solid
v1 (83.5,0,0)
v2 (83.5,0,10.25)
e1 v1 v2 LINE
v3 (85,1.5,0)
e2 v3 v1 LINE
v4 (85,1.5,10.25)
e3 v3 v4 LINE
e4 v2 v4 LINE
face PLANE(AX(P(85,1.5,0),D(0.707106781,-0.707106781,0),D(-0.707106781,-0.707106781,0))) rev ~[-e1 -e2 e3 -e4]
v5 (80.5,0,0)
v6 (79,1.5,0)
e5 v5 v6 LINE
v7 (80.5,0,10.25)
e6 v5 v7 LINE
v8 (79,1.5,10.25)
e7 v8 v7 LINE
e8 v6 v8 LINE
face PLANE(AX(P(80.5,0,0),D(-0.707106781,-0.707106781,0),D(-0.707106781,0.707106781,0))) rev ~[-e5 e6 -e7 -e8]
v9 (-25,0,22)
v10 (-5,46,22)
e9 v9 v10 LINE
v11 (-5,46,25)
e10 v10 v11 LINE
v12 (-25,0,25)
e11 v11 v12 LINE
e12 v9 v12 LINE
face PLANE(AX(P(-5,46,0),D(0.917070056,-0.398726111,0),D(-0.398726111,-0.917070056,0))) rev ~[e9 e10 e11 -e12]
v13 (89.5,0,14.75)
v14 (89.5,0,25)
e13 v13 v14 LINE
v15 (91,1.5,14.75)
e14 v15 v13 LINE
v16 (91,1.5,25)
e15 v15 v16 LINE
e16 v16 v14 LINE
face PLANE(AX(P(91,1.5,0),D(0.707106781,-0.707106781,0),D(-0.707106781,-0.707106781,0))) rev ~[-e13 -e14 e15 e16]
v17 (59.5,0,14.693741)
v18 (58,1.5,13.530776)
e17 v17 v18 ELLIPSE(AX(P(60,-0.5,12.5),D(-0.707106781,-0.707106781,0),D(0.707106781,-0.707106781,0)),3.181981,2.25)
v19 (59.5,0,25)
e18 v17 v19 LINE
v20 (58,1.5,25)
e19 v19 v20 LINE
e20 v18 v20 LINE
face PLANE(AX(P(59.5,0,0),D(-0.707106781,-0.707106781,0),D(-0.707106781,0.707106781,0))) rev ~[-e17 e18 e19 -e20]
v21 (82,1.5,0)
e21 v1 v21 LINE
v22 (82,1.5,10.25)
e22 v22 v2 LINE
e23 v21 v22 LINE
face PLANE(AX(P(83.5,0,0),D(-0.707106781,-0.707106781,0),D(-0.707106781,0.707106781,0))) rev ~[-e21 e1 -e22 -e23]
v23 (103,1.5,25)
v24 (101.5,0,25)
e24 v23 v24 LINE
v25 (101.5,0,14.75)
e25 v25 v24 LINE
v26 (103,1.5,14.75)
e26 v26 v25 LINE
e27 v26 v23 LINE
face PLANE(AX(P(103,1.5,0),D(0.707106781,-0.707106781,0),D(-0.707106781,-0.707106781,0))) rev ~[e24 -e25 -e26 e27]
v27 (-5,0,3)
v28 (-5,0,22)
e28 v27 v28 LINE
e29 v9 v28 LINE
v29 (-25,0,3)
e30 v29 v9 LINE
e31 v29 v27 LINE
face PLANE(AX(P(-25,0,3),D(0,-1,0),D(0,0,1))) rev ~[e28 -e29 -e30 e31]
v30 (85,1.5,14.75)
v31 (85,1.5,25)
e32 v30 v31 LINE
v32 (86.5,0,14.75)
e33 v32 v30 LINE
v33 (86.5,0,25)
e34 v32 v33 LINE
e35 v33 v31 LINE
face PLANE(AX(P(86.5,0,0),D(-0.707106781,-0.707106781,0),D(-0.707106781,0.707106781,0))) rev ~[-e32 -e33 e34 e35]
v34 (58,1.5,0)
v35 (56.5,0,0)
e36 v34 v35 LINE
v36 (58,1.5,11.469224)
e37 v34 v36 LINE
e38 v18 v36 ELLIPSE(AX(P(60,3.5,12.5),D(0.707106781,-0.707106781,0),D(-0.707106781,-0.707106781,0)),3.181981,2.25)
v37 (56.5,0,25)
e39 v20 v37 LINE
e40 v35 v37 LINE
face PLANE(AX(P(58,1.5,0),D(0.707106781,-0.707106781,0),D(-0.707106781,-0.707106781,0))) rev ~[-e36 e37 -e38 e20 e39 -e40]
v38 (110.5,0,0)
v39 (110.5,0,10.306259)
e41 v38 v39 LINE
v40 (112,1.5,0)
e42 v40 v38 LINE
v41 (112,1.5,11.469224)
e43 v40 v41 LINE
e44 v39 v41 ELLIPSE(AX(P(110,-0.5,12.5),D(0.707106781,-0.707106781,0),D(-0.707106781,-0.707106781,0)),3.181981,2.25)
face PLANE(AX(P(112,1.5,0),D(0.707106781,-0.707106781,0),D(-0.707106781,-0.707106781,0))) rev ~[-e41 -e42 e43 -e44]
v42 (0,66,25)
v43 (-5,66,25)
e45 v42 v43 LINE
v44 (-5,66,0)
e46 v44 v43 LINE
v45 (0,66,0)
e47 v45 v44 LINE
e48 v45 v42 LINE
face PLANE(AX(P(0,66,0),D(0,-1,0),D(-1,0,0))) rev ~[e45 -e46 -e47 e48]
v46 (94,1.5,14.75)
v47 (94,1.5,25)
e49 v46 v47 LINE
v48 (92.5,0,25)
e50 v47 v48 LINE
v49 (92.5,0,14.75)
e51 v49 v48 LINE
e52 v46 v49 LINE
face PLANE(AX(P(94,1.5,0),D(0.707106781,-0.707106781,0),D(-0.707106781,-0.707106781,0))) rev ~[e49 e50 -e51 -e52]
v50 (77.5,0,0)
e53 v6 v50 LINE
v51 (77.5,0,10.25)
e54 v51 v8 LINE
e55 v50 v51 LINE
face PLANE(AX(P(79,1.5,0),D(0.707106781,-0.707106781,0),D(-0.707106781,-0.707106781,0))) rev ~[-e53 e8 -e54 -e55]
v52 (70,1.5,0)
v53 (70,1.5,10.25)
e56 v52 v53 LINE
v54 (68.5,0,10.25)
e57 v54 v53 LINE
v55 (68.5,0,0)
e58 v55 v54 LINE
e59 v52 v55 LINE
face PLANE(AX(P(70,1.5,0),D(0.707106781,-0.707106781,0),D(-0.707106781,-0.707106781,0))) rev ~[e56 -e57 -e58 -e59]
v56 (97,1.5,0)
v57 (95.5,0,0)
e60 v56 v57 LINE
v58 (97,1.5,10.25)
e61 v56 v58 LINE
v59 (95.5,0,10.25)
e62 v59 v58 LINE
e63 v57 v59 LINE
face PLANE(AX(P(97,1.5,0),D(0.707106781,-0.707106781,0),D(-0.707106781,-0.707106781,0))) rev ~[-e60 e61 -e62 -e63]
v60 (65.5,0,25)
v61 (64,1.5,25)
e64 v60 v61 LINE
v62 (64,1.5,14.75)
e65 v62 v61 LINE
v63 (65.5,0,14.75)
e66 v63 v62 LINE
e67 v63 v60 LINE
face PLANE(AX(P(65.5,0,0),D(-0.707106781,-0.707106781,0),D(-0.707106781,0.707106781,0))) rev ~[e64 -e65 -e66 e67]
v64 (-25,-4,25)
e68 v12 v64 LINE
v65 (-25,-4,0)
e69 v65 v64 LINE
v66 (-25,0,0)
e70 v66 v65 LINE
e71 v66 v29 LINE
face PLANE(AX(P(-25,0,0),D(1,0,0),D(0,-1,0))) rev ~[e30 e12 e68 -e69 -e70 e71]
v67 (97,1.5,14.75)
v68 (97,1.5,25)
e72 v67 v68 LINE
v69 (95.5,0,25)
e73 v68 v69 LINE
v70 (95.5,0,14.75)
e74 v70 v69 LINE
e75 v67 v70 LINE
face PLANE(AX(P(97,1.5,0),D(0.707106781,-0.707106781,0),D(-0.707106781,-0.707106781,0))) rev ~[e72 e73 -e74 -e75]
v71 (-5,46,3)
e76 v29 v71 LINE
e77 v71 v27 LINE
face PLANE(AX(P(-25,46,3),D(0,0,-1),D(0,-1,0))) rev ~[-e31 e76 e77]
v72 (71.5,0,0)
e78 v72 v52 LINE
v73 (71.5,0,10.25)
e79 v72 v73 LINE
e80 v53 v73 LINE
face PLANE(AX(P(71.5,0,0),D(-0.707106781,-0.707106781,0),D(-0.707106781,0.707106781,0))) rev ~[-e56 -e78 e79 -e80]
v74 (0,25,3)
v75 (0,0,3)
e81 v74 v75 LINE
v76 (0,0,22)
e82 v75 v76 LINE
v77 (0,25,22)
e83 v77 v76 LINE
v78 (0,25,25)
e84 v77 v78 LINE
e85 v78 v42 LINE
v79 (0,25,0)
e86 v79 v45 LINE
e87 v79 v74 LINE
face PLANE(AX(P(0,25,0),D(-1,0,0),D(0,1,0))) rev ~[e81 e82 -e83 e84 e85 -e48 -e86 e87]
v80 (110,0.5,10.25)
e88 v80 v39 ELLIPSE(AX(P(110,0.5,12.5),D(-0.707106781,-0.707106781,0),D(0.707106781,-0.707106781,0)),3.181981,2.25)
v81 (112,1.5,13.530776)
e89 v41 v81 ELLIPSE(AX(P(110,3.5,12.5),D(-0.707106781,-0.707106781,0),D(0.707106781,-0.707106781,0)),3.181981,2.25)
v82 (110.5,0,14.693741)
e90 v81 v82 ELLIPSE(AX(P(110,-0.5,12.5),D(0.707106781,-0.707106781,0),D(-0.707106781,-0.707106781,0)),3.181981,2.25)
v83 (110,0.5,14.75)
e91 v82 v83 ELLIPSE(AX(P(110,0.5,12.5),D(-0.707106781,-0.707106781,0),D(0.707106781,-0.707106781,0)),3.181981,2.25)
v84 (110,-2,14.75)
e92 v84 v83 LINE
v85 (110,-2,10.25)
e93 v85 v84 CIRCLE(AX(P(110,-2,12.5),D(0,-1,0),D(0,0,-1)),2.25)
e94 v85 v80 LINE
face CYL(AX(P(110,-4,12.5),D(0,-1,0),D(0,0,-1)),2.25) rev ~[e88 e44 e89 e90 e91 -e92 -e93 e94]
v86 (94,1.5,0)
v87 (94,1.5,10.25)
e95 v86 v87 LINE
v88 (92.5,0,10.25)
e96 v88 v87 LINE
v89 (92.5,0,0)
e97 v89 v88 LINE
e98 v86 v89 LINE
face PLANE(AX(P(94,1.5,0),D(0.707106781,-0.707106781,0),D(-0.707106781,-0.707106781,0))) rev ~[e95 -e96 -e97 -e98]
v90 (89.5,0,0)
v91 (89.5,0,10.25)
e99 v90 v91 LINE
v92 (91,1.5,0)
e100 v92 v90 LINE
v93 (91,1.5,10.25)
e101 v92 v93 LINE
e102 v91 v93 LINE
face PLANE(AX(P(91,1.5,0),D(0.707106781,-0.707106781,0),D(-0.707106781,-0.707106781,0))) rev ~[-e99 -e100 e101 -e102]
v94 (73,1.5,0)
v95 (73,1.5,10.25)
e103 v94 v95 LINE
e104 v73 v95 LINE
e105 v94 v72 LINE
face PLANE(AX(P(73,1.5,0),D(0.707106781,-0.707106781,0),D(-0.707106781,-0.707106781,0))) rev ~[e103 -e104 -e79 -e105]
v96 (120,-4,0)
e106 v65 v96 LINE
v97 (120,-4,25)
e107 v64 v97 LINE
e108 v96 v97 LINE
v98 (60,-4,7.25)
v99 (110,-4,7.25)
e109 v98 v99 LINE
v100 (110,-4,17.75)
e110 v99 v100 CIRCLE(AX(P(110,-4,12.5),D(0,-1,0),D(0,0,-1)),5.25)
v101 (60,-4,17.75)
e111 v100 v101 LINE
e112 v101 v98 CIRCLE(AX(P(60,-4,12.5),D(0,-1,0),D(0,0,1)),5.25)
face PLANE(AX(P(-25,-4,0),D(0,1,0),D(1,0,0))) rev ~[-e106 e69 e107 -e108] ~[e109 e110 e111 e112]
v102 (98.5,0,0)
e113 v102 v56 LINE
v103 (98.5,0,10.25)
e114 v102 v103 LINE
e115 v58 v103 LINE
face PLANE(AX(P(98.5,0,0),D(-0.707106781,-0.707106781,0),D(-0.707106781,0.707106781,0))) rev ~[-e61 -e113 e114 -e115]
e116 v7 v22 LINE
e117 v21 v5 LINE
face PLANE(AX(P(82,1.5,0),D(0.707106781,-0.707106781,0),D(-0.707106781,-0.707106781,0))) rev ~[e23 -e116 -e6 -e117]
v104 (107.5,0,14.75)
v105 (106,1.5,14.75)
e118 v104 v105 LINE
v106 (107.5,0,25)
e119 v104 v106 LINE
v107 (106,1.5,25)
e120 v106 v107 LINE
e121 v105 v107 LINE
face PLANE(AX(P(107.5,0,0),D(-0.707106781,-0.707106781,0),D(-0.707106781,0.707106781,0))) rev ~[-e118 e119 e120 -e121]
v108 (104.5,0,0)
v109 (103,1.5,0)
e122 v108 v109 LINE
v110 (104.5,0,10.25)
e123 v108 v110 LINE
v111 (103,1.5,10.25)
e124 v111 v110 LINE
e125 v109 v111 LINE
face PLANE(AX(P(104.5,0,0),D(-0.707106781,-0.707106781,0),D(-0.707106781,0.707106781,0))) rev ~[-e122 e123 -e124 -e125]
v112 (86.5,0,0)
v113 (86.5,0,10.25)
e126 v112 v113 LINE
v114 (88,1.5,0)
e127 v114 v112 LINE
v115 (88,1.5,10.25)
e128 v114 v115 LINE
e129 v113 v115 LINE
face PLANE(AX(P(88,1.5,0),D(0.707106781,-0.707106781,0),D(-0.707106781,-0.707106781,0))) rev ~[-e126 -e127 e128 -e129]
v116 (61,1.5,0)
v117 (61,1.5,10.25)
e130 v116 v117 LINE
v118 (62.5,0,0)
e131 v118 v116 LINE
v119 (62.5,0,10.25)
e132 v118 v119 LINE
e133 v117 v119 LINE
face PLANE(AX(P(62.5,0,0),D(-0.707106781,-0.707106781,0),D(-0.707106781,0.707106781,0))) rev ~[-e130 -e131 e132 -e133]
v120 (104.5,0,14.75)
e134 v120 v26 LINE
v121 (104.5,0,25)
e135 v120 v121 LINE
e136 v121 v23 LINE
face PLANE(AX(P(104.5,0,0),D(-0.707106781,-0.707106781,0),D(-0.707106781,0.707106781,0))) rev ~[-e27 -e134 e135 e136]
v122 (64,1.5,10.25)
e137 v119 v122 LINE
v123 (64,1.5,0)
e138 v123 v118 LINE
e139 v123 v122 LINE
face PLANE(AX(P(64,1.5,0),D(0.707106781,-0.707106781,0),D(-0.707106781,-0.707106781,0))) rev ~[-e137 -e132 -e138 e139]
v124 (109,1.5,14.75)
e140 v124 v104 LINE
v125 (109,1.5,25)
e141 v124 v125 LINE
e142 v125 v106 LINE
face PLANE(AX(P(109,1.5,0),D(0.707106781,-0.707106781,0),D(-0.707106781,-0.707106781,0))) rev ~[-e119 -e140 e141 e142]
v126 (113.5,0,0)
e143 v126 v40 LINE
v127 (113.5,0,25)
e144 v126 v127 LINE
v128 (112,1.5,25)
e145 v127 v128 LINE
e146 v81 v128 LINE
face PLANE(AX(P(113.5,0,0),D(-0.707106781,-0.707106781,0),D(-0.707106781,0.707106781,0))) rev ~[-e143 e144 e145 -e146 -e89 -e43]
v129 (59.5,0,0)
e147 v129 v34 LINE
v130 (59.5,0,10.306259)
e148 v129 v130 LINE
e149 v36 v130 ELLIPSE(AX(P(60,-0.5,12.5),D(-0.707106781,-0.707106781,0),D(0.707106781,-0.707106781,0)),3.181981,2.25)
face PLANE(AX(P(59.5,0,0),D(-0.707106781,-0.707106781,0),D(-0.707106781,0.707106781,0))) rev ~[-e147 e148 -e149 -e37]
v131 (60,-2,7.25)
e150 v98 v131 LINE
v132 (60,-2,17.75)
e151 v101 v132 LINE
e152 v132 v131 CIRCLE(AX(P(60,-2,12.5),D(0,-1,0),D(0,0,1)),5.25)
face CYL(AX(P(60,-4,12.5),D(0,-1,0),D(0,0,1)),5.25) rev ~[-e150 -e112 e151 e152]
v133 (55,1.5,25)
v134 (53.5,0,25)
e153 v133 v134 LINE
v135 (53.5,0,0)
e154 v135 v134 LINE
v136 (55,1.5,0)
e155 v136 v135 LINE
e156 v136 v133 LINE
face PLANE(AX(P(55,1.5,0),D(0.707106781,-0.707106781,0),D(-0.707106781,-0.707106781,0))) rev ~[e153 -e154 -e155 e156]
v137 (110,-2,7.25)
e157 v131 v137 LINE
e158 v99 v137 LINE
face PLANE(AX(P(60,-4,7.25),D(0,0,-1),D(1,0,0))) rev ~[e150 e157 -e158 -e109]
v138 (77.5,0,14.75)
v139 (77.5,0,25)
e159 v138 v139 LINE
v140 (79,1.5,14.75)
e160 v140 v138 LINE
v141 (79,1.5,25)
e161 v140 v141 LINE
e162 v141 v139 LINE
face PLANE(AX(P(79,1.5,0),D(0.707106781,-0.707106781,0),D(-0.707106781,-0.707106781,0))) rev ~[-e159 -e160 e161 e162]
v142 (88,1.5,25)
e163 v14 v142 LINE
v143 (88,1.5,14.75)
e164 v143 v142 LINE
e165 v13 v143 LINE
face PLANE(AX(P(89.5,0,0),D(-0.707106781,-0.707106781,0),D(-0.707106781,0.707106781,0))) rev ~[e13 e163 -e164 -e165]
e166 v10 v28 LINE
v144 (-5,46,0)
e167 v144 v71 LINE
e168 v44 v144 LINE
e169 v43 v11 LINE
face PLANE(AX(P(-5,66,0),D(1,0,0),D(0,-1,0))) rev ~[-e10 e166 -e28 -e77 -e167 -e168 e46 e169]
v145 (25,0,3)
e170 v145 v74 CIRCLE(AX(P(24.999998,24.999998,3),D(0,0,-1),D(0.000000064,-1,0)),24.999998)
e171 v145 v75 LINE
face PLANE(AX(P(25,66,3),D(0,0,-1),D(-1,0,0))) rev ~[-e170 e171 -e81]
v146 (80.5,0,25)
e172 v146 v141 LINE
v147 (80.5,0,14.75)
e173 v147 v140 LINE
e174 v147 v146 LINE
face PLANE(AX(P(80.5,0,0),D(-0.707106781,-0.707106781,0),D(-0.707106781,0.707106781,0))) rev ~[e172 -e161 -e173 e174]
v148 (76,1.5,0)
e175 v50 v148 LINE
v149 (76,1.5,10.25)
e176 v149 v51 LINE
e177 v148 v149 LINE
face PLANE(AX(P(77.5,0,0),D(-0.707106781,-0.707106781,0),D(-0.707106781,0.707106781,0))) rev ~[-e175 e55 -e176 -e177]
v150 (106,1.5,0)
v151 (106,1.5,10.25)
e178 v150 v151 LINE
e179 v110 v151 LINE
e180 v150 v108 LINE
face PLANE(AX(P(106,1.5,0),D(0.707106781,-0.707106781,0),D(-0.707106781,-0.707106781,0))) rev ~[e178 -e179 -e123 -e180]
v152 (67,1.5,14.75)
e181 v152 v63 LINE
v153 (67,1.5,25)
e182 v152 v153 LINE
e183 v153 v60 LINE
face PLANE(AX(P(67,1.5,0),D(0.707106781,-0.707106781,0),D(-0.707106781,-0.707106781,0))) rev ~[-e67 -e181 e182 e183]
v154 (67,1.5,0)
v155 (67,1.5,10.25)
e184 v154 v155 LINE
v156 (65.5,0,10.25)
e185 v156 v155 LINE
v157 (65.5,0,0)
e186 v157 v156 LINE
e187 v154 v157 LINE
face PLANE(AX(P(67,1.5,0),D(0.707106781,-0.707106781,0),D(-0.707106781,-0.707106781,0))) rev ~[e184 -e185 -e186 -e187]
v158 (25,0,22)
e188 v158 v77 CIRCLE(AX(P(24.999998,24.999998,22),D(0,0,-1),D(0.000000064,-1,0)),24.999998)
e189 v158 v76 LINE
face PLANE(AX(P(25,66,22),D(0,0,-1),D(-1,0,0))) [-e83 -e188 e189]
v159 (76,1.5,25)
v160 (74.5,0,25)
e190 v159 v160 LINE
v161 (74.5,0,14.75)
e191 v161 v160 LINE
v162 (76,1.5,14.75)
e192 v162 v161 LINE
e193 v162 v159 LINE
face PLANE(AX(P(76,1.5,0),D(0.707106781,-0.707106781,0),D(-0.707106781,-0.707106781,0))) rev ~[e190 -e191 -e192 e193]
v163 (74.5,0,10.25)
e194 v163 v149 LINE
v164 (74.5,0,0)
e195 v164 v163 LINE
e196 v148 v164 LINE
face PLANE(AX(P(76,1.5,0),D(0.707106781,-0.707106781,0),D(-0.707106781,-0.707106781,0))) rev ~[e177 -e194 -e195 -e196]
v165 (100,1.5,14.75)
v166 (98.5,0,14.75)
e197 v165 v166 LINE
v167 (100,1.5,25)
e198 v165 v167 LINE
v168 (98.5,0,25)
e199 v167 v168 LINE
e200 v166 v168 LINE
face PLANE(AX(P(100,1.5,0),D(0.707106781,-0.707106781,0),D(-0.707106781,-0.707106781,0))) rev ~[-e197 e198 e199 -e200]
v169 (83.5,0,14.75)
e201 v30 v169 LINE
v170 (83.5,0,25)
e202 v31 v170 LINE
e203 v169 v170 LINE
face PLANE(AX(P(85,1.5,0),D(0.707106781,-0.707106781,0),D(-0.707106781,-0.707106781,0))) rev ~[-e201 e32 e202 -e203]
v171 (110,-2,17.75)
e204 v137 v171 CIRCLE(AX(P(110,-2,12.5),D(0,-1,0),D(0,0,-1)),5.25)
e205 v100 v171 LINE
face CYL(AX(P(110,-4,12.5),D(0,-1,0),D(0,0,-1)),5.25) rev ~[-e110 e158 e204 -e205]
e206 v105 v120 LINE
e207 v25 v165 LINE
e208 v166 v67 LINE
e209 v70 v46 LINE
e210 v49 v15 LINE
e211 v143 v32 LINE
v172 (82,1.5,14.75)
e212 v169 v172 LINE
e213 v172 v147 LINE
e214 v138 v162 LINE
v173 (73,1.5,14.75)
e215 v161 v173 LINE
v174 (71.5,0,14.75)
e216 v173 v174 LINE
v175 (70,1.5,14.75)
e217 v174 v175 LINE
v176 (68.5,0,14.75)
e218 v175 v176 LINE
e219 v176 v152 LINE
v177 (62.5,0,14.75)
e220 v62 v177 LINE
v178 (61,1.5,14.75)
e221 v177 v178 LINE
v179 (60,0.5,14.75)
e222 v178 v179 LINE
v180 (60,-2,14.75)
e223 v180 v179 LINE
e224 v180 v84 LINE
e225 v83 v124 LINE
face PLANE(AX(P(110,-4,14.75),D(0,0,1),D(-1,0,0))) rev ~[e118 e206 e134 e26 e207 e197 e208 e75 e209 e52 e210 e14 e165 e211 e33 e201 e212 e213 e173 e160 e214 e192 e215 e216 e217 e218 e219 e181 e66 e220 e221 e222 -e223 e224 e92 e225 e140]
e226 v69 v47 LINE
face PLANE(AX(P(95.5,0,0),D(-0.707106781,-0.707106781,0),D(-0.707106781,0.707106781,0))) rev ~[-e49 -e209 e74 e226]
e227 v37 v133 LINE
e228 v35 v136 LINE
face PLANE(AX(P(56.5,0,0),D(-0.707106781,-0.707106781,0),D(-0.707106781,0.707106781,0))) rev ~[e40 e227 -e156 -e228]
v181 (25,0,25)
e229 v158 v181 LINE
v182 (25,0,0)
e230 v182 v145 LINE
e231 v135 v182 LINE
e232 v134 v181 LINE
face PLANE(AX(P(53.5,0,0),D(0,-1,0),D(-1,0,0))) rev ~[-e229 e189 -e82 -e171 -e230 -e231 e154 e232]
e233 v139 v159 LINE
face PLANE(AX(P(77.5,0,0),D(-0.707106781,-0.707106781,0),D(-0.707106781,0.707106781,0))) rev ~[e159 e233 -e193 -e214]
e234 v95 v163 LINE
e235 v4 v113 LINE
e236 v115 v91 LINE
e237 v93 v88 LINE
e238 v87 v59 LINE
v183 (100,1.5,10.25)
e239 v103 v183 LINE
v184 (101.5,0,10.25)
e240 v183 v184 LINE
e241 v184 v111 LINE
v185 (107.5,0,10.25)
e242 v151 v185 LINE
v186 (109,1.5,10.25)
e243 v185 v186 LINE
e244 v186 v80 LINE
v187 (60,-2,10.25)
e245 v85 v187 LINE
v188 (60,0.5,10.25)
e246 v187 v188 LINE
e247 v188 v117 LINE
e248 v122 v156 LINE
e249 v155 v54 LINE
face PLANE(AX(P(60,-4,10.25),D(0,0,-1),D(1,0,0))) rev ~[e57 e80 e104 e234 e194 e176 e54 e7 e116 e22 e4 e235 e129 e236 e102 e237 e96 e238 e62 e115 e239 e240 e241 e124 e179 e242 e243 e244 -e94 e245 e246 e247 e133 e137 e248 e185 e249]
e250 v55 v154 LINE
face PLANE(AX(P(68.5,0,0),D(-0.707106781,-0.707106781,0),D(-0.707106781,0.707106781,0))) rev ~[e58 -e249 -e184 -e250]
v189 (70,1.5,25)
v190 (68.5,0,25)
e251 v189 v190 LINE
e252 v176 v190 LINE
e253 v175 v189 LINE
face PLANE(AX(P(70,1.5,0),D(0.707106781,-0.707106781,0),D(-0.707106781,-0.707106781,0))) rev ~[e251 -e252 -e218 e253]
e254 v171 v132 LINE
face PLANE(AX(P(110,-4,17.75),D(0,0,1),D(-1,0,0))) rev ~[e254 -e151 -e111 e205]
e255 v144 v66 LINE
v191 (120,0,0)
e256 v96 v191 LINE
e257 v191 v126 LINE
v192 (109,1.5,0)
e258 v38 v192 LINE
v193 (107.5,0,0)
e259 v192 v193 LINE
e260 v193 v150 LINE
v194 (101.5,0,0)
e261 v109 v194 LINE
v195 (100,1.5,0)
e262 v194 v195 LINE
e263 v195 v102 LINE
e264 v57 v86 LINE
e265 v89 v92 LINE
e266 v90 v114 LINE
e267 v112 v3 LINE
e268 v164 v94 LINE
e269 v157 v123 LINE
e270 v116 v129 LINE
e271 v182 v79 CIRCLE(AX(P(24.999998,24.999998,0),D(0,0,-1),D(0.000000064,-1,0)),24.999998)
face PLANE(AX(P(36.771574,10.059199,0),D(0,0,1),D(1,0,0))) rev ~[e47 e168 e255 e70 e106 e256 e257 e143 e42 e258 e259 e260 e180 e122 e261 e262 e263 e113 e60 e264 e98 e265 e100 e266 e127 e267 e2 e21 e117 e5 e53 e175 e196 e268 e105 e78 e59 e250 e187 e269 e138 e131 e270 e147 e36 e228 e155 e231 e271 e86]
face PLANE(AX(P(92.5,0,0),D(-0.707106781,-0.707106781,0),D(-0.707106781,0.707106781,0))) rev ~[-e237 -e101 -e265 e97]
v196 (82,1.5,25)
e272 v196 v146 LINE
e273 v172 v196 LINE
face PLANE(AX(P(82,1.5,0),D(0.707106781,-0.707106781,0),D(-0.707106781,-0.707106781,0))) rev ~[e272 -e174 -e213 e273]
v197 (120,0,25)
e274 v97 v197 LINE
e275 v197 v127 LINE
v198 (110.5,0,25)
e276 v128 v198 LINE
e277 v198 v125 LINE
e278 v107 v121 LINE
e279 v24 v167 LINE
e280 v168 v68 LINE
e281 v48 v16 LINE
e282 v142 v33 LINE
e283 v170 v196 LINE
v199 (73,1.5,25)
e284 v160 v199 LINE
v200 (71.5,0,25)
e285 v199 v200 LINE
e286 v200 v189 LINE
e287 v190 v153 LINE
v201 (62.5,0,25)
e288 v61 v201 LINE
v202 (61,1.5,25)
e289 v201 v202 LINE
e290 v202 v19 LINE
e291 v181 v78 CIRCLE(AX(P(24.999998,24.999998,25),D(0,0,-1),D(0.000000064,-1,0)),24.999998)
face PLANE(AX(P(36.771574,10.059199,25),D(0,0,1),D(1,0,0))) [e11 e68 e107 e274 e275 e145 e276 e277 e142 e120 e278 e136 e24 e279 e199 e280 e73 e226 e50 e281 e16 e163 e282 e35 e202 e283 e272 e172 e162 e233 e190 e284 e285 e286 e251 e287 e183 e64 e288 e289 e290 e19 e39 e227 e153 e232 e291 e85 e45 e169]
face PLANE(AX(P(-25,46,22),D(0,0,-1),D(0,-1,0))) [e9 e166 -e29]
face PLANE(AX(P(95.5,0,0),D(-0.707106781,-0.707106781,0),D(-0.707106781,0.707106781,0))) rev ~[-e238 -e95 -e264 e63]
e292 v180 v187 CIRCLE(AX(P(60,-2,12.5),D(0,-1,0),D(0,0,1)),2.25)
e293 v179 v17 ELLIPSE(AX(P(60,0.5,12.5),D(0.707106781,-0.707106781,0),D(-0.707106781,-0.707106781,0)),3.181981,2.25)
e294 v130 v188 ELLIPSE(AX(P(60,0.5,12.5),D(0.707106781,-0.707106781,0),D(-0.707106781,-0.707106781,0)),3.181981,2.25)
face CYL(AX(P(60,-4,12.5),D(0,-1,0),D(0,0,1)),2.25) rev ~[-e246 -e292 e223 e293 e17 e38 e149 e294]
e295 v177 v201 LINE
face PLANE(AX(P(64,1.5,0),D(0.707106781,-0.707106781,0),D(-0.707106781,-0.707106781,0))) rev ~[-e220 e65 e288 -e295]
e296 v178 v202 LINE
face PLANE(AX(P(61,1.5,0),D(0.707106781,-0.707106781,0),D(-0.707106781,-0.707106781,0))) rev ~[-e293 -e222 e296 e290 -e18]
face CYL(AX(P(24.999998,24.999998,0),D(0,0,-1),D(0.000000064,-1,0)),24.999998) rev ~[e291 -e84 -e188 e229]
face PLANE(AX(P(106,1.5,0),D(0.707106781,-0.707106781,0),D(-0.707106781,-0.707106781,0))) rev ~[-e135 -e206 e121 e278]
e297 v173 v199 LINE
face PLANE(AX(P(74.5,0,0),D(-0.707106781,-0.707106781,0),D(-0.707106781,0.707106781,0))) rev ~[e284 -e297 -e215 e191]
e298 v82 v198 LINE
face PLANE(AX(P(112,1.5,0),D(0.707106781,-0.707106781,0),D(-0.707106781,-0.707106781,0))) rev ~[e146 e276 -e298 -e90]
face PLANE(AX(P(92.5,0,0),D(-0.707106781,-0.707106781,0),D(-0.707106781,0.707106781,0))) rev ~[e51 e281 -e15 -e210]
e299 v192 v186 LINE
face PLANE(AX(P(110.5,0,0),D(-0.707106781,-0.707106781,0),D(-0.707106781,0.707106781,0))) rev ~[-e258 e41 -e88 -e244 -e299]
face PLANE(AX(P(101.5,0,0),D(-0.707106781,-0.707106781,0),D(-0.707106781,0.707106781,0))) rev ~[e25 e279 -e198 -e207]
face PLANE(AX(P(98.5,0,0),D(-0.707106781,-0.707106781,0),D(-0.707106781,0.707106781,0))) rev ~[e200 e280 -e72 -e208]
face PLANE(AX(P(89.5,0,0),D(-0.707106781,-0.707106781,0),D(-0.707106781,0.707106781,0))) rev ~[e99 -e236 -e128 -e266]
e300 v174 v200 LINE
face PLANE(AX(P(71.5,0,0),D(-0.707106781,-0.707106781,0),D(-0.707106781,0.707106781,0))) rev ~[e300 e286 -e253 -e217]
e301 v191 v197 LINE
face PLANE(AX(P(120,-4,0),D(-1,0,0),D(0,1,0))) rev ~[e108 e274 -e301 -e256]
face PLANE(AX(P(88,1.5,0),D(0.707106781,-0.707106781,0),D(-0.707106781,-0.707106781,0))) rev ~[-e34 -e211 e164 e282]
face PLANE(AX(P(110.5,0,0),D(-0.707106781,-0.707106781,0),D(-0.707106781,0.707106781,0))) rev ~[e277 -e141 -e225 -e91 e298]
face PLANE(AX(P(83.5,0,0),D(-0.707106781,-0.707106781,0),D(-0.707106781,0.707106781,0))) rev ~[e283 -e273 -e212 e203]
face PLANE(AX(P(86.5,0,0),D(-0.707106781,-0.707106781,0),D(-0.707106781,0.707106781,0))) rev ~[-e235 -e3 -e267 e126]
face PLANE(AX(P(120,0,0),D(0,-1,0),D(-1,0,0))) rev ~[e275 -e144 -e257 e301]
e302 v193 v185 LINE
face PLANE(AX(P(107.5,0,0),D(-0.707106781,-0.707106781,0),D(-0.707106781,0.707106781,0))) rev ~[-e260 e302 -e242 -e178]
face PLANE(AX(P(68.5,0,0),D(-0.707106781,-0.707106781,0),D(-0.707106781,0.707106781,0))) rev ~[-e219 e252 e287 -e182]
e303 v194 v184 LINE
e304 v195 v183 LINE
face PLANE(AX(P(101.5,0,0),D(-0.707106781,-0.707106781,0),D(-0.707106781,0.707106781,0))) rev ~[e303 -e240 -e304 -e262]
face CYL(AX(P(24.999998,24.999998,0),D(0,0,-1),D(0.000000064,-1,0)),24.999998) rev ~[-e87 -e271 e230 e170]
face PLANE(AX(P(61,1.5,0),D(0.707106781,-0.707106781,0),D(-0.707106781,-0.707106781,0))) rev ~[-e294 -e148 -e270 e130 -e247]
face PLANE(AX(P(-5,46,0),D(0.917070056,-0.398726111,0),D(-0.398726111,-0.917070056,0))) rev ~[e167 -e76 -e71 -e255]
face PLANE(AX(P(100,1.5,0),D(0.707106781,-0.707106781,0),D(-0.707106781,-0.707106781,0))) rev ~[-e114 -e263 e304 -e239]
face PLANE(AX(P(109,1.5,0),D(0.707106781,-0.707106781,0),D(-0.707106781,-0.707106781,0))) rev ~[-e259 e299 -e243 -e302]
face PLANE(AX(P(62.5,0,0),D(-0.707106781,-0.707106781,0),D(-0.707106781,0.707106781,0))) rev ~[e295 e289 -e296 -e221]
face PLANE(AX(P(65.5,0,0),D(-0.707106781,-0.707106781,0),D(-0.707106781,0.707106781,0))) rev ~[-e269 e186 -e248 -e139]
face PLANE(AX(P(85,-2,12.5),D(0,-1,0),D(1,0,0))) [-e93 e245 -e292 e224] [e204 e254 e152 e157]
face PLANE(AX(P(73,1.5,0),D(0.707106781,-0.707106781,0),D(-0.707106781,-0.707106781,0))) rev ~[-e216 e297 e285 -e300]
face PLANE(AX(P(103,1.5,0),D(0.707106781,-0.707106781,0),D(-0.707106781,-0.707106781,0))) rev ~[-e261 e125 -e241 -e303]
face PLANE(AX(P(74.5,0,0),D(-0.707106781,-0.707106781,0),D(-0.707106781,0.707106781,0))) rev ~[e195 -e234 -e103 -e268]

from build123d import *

# Parameters (mm, degrees)
F1_DEPTH = 25
F3_DEPTH = 70.001
F5_DEPTH = 2
F6_W     = 46
F6_H     = 19
F7_DEPTH = 20
F8_W     = 25
F8_H     = 19
F9_DEPTH = 66


with BuildPart() as f1:
    # F0 (on Top) → F1 (new body)
    with BuildSketch(Plane.XY):
        with BuildLine():
            Line((53.5, 0), (25, 0))
            ThreePointArc((25, 0), (7.32233, 7.32233), (0, 25))
            Line((0, 25), (0, 66))
            Line((0, 66), (-5, 66))
            Line((-5, 66), (-5, 46))
            Line((-5, 46), (-25, 0))
            Line((-25, 0), (-25, -4))
            Line((-25, -4), (120, -4))
            Line((120, -4), (120, 0))
            Line((120, 0), (113.5, 0))
            Line((113.5, 0), (112, 1.5))
            Line((112, 1.5), (110.5, 0))
            Line((110.5, 0), (109, 1.5))
            Line((109, 1.5), (107.5, 0))
            Line((107.5, 0), (106, 1.5))
            Line((106, 1.5), (104.5, 0))
            Line((104.5, 0), (103, 1.5))
            Line((103, 1.5), (101.5, 0))
            Line((101.5, 0), (100, 1.5))
            Line((100, 1.5), (98.5, 0))
            Line((98.5, 0), (97, 1.5))
            Line((97, 1.5), (95.5, 0))
            Line((95.5, 0), (94, 1.5))
            Line((94, 1.5), (92.5, 0))
            Line((92.5, 0), (91, 1.5))
            Line((91, 1.5), (89.5, 0))
            Line((89.5, 0), (88, 1.5))
            Line((88, 1.5), (86.5, 0))
            Line((86.5, 0), (85, 1.5))
            Line((85, 1.5), (83.5, 0))
            Line((83.5, 0), (82, 1.5))
            Line((82, 1.5), (80.5, 0))
            Line((80.5, 0), (79, 1.5))
            Line((79, 1.5), (77.5, 0))
            Line((77.5, 0), (76, 1.5))
            Line((76, 1.5), (74.5, 0))
            Line((74.5, 0), (73, 1.5))
            Line((73, 1.5), (71.5, 0))
            Line((71.5, 0), (70, 1.5))
            Line((70, 1.5), (68.5, 0))
            Line((68.5, 0), (67, 1.5))
            Line((67, 1.5), (65.5, 0))
            Line((65.5, 0), (64, 1.5))
            Line((64, 1.5), (62.5, 0))
            Line((62.5, 0), (61, 1.5))
            Line((61, 1.5), (59.5, 0))
            Line((59.5, 0), (58, 1.5))
            Line((58, 1.5), (56.5, 0))
            Line((56.5, 0), (55, 1.5))
            Line((55, 1.5), (53.5, 0))
        make_face()
    extrude(amount=F1_DEPTH)

    # F2 (on face) → F3 (cut, through all)
    with BuildSketch(Plane.XZ.offset(4)):
        with BuildLine():
            Line((60, 10.25), (110, 10.25))
            ThreePointArc((110, 10.25), (112.25, 12.5), (110, 14.75))
            Line((110, 14.75), (60, 14.75))
            ThreePointArc((60, 14.75), (57.75, 12.5), (60, 10.25))
        make_face()
    extrude(amount=-F3_DEPTH, mode=Mode.SUBTRACT)

    # F4 (on face) → F5 (cut)
    with BuildSketch(Plane.XZ.offset(4)):
        with BuildLine():
            Line((110, 17.75), (60, 17.75))
            ThreePointArc((60, 17.75), (54.75, 12.5), (60, 7.25))
            Line((60, 7.25), (110, 7.25))
            ThreePointArc((110, 7.25), (115.25, 12.5), (110, 17.75))
        make_face()
    extrude(amount=-F5_DEPTH, mode=Mode.SUBTRACT)

    # F6 (on face) → F7 (cut, through all)
    with BuildSketch(Plane(origin=(-25, 0, 0), x_dir=(0, -1, 0), z_dir=(-1, 0, 0))):
        with Locations((-23, 12.5)):
            Rectangle(F6_W, F6_H)
    extrude(amount=-F7_DEPTH, mode=Mode.SUBTRACT)

    # F8 (on face) → F9 (cut, through all)
    with BuildSketch(Plane(origin=(0, 66, 0), x_dir=(-1, 0, 0), z_dir=(0, 1, 0))):
        with Locations((-12.5, 12.5)):
            Rectangle(F8_W, F8_H)
    extrude(amount=-F9_DEPTH, mode=Mode.SUBTRACT)


solid = f1.part
